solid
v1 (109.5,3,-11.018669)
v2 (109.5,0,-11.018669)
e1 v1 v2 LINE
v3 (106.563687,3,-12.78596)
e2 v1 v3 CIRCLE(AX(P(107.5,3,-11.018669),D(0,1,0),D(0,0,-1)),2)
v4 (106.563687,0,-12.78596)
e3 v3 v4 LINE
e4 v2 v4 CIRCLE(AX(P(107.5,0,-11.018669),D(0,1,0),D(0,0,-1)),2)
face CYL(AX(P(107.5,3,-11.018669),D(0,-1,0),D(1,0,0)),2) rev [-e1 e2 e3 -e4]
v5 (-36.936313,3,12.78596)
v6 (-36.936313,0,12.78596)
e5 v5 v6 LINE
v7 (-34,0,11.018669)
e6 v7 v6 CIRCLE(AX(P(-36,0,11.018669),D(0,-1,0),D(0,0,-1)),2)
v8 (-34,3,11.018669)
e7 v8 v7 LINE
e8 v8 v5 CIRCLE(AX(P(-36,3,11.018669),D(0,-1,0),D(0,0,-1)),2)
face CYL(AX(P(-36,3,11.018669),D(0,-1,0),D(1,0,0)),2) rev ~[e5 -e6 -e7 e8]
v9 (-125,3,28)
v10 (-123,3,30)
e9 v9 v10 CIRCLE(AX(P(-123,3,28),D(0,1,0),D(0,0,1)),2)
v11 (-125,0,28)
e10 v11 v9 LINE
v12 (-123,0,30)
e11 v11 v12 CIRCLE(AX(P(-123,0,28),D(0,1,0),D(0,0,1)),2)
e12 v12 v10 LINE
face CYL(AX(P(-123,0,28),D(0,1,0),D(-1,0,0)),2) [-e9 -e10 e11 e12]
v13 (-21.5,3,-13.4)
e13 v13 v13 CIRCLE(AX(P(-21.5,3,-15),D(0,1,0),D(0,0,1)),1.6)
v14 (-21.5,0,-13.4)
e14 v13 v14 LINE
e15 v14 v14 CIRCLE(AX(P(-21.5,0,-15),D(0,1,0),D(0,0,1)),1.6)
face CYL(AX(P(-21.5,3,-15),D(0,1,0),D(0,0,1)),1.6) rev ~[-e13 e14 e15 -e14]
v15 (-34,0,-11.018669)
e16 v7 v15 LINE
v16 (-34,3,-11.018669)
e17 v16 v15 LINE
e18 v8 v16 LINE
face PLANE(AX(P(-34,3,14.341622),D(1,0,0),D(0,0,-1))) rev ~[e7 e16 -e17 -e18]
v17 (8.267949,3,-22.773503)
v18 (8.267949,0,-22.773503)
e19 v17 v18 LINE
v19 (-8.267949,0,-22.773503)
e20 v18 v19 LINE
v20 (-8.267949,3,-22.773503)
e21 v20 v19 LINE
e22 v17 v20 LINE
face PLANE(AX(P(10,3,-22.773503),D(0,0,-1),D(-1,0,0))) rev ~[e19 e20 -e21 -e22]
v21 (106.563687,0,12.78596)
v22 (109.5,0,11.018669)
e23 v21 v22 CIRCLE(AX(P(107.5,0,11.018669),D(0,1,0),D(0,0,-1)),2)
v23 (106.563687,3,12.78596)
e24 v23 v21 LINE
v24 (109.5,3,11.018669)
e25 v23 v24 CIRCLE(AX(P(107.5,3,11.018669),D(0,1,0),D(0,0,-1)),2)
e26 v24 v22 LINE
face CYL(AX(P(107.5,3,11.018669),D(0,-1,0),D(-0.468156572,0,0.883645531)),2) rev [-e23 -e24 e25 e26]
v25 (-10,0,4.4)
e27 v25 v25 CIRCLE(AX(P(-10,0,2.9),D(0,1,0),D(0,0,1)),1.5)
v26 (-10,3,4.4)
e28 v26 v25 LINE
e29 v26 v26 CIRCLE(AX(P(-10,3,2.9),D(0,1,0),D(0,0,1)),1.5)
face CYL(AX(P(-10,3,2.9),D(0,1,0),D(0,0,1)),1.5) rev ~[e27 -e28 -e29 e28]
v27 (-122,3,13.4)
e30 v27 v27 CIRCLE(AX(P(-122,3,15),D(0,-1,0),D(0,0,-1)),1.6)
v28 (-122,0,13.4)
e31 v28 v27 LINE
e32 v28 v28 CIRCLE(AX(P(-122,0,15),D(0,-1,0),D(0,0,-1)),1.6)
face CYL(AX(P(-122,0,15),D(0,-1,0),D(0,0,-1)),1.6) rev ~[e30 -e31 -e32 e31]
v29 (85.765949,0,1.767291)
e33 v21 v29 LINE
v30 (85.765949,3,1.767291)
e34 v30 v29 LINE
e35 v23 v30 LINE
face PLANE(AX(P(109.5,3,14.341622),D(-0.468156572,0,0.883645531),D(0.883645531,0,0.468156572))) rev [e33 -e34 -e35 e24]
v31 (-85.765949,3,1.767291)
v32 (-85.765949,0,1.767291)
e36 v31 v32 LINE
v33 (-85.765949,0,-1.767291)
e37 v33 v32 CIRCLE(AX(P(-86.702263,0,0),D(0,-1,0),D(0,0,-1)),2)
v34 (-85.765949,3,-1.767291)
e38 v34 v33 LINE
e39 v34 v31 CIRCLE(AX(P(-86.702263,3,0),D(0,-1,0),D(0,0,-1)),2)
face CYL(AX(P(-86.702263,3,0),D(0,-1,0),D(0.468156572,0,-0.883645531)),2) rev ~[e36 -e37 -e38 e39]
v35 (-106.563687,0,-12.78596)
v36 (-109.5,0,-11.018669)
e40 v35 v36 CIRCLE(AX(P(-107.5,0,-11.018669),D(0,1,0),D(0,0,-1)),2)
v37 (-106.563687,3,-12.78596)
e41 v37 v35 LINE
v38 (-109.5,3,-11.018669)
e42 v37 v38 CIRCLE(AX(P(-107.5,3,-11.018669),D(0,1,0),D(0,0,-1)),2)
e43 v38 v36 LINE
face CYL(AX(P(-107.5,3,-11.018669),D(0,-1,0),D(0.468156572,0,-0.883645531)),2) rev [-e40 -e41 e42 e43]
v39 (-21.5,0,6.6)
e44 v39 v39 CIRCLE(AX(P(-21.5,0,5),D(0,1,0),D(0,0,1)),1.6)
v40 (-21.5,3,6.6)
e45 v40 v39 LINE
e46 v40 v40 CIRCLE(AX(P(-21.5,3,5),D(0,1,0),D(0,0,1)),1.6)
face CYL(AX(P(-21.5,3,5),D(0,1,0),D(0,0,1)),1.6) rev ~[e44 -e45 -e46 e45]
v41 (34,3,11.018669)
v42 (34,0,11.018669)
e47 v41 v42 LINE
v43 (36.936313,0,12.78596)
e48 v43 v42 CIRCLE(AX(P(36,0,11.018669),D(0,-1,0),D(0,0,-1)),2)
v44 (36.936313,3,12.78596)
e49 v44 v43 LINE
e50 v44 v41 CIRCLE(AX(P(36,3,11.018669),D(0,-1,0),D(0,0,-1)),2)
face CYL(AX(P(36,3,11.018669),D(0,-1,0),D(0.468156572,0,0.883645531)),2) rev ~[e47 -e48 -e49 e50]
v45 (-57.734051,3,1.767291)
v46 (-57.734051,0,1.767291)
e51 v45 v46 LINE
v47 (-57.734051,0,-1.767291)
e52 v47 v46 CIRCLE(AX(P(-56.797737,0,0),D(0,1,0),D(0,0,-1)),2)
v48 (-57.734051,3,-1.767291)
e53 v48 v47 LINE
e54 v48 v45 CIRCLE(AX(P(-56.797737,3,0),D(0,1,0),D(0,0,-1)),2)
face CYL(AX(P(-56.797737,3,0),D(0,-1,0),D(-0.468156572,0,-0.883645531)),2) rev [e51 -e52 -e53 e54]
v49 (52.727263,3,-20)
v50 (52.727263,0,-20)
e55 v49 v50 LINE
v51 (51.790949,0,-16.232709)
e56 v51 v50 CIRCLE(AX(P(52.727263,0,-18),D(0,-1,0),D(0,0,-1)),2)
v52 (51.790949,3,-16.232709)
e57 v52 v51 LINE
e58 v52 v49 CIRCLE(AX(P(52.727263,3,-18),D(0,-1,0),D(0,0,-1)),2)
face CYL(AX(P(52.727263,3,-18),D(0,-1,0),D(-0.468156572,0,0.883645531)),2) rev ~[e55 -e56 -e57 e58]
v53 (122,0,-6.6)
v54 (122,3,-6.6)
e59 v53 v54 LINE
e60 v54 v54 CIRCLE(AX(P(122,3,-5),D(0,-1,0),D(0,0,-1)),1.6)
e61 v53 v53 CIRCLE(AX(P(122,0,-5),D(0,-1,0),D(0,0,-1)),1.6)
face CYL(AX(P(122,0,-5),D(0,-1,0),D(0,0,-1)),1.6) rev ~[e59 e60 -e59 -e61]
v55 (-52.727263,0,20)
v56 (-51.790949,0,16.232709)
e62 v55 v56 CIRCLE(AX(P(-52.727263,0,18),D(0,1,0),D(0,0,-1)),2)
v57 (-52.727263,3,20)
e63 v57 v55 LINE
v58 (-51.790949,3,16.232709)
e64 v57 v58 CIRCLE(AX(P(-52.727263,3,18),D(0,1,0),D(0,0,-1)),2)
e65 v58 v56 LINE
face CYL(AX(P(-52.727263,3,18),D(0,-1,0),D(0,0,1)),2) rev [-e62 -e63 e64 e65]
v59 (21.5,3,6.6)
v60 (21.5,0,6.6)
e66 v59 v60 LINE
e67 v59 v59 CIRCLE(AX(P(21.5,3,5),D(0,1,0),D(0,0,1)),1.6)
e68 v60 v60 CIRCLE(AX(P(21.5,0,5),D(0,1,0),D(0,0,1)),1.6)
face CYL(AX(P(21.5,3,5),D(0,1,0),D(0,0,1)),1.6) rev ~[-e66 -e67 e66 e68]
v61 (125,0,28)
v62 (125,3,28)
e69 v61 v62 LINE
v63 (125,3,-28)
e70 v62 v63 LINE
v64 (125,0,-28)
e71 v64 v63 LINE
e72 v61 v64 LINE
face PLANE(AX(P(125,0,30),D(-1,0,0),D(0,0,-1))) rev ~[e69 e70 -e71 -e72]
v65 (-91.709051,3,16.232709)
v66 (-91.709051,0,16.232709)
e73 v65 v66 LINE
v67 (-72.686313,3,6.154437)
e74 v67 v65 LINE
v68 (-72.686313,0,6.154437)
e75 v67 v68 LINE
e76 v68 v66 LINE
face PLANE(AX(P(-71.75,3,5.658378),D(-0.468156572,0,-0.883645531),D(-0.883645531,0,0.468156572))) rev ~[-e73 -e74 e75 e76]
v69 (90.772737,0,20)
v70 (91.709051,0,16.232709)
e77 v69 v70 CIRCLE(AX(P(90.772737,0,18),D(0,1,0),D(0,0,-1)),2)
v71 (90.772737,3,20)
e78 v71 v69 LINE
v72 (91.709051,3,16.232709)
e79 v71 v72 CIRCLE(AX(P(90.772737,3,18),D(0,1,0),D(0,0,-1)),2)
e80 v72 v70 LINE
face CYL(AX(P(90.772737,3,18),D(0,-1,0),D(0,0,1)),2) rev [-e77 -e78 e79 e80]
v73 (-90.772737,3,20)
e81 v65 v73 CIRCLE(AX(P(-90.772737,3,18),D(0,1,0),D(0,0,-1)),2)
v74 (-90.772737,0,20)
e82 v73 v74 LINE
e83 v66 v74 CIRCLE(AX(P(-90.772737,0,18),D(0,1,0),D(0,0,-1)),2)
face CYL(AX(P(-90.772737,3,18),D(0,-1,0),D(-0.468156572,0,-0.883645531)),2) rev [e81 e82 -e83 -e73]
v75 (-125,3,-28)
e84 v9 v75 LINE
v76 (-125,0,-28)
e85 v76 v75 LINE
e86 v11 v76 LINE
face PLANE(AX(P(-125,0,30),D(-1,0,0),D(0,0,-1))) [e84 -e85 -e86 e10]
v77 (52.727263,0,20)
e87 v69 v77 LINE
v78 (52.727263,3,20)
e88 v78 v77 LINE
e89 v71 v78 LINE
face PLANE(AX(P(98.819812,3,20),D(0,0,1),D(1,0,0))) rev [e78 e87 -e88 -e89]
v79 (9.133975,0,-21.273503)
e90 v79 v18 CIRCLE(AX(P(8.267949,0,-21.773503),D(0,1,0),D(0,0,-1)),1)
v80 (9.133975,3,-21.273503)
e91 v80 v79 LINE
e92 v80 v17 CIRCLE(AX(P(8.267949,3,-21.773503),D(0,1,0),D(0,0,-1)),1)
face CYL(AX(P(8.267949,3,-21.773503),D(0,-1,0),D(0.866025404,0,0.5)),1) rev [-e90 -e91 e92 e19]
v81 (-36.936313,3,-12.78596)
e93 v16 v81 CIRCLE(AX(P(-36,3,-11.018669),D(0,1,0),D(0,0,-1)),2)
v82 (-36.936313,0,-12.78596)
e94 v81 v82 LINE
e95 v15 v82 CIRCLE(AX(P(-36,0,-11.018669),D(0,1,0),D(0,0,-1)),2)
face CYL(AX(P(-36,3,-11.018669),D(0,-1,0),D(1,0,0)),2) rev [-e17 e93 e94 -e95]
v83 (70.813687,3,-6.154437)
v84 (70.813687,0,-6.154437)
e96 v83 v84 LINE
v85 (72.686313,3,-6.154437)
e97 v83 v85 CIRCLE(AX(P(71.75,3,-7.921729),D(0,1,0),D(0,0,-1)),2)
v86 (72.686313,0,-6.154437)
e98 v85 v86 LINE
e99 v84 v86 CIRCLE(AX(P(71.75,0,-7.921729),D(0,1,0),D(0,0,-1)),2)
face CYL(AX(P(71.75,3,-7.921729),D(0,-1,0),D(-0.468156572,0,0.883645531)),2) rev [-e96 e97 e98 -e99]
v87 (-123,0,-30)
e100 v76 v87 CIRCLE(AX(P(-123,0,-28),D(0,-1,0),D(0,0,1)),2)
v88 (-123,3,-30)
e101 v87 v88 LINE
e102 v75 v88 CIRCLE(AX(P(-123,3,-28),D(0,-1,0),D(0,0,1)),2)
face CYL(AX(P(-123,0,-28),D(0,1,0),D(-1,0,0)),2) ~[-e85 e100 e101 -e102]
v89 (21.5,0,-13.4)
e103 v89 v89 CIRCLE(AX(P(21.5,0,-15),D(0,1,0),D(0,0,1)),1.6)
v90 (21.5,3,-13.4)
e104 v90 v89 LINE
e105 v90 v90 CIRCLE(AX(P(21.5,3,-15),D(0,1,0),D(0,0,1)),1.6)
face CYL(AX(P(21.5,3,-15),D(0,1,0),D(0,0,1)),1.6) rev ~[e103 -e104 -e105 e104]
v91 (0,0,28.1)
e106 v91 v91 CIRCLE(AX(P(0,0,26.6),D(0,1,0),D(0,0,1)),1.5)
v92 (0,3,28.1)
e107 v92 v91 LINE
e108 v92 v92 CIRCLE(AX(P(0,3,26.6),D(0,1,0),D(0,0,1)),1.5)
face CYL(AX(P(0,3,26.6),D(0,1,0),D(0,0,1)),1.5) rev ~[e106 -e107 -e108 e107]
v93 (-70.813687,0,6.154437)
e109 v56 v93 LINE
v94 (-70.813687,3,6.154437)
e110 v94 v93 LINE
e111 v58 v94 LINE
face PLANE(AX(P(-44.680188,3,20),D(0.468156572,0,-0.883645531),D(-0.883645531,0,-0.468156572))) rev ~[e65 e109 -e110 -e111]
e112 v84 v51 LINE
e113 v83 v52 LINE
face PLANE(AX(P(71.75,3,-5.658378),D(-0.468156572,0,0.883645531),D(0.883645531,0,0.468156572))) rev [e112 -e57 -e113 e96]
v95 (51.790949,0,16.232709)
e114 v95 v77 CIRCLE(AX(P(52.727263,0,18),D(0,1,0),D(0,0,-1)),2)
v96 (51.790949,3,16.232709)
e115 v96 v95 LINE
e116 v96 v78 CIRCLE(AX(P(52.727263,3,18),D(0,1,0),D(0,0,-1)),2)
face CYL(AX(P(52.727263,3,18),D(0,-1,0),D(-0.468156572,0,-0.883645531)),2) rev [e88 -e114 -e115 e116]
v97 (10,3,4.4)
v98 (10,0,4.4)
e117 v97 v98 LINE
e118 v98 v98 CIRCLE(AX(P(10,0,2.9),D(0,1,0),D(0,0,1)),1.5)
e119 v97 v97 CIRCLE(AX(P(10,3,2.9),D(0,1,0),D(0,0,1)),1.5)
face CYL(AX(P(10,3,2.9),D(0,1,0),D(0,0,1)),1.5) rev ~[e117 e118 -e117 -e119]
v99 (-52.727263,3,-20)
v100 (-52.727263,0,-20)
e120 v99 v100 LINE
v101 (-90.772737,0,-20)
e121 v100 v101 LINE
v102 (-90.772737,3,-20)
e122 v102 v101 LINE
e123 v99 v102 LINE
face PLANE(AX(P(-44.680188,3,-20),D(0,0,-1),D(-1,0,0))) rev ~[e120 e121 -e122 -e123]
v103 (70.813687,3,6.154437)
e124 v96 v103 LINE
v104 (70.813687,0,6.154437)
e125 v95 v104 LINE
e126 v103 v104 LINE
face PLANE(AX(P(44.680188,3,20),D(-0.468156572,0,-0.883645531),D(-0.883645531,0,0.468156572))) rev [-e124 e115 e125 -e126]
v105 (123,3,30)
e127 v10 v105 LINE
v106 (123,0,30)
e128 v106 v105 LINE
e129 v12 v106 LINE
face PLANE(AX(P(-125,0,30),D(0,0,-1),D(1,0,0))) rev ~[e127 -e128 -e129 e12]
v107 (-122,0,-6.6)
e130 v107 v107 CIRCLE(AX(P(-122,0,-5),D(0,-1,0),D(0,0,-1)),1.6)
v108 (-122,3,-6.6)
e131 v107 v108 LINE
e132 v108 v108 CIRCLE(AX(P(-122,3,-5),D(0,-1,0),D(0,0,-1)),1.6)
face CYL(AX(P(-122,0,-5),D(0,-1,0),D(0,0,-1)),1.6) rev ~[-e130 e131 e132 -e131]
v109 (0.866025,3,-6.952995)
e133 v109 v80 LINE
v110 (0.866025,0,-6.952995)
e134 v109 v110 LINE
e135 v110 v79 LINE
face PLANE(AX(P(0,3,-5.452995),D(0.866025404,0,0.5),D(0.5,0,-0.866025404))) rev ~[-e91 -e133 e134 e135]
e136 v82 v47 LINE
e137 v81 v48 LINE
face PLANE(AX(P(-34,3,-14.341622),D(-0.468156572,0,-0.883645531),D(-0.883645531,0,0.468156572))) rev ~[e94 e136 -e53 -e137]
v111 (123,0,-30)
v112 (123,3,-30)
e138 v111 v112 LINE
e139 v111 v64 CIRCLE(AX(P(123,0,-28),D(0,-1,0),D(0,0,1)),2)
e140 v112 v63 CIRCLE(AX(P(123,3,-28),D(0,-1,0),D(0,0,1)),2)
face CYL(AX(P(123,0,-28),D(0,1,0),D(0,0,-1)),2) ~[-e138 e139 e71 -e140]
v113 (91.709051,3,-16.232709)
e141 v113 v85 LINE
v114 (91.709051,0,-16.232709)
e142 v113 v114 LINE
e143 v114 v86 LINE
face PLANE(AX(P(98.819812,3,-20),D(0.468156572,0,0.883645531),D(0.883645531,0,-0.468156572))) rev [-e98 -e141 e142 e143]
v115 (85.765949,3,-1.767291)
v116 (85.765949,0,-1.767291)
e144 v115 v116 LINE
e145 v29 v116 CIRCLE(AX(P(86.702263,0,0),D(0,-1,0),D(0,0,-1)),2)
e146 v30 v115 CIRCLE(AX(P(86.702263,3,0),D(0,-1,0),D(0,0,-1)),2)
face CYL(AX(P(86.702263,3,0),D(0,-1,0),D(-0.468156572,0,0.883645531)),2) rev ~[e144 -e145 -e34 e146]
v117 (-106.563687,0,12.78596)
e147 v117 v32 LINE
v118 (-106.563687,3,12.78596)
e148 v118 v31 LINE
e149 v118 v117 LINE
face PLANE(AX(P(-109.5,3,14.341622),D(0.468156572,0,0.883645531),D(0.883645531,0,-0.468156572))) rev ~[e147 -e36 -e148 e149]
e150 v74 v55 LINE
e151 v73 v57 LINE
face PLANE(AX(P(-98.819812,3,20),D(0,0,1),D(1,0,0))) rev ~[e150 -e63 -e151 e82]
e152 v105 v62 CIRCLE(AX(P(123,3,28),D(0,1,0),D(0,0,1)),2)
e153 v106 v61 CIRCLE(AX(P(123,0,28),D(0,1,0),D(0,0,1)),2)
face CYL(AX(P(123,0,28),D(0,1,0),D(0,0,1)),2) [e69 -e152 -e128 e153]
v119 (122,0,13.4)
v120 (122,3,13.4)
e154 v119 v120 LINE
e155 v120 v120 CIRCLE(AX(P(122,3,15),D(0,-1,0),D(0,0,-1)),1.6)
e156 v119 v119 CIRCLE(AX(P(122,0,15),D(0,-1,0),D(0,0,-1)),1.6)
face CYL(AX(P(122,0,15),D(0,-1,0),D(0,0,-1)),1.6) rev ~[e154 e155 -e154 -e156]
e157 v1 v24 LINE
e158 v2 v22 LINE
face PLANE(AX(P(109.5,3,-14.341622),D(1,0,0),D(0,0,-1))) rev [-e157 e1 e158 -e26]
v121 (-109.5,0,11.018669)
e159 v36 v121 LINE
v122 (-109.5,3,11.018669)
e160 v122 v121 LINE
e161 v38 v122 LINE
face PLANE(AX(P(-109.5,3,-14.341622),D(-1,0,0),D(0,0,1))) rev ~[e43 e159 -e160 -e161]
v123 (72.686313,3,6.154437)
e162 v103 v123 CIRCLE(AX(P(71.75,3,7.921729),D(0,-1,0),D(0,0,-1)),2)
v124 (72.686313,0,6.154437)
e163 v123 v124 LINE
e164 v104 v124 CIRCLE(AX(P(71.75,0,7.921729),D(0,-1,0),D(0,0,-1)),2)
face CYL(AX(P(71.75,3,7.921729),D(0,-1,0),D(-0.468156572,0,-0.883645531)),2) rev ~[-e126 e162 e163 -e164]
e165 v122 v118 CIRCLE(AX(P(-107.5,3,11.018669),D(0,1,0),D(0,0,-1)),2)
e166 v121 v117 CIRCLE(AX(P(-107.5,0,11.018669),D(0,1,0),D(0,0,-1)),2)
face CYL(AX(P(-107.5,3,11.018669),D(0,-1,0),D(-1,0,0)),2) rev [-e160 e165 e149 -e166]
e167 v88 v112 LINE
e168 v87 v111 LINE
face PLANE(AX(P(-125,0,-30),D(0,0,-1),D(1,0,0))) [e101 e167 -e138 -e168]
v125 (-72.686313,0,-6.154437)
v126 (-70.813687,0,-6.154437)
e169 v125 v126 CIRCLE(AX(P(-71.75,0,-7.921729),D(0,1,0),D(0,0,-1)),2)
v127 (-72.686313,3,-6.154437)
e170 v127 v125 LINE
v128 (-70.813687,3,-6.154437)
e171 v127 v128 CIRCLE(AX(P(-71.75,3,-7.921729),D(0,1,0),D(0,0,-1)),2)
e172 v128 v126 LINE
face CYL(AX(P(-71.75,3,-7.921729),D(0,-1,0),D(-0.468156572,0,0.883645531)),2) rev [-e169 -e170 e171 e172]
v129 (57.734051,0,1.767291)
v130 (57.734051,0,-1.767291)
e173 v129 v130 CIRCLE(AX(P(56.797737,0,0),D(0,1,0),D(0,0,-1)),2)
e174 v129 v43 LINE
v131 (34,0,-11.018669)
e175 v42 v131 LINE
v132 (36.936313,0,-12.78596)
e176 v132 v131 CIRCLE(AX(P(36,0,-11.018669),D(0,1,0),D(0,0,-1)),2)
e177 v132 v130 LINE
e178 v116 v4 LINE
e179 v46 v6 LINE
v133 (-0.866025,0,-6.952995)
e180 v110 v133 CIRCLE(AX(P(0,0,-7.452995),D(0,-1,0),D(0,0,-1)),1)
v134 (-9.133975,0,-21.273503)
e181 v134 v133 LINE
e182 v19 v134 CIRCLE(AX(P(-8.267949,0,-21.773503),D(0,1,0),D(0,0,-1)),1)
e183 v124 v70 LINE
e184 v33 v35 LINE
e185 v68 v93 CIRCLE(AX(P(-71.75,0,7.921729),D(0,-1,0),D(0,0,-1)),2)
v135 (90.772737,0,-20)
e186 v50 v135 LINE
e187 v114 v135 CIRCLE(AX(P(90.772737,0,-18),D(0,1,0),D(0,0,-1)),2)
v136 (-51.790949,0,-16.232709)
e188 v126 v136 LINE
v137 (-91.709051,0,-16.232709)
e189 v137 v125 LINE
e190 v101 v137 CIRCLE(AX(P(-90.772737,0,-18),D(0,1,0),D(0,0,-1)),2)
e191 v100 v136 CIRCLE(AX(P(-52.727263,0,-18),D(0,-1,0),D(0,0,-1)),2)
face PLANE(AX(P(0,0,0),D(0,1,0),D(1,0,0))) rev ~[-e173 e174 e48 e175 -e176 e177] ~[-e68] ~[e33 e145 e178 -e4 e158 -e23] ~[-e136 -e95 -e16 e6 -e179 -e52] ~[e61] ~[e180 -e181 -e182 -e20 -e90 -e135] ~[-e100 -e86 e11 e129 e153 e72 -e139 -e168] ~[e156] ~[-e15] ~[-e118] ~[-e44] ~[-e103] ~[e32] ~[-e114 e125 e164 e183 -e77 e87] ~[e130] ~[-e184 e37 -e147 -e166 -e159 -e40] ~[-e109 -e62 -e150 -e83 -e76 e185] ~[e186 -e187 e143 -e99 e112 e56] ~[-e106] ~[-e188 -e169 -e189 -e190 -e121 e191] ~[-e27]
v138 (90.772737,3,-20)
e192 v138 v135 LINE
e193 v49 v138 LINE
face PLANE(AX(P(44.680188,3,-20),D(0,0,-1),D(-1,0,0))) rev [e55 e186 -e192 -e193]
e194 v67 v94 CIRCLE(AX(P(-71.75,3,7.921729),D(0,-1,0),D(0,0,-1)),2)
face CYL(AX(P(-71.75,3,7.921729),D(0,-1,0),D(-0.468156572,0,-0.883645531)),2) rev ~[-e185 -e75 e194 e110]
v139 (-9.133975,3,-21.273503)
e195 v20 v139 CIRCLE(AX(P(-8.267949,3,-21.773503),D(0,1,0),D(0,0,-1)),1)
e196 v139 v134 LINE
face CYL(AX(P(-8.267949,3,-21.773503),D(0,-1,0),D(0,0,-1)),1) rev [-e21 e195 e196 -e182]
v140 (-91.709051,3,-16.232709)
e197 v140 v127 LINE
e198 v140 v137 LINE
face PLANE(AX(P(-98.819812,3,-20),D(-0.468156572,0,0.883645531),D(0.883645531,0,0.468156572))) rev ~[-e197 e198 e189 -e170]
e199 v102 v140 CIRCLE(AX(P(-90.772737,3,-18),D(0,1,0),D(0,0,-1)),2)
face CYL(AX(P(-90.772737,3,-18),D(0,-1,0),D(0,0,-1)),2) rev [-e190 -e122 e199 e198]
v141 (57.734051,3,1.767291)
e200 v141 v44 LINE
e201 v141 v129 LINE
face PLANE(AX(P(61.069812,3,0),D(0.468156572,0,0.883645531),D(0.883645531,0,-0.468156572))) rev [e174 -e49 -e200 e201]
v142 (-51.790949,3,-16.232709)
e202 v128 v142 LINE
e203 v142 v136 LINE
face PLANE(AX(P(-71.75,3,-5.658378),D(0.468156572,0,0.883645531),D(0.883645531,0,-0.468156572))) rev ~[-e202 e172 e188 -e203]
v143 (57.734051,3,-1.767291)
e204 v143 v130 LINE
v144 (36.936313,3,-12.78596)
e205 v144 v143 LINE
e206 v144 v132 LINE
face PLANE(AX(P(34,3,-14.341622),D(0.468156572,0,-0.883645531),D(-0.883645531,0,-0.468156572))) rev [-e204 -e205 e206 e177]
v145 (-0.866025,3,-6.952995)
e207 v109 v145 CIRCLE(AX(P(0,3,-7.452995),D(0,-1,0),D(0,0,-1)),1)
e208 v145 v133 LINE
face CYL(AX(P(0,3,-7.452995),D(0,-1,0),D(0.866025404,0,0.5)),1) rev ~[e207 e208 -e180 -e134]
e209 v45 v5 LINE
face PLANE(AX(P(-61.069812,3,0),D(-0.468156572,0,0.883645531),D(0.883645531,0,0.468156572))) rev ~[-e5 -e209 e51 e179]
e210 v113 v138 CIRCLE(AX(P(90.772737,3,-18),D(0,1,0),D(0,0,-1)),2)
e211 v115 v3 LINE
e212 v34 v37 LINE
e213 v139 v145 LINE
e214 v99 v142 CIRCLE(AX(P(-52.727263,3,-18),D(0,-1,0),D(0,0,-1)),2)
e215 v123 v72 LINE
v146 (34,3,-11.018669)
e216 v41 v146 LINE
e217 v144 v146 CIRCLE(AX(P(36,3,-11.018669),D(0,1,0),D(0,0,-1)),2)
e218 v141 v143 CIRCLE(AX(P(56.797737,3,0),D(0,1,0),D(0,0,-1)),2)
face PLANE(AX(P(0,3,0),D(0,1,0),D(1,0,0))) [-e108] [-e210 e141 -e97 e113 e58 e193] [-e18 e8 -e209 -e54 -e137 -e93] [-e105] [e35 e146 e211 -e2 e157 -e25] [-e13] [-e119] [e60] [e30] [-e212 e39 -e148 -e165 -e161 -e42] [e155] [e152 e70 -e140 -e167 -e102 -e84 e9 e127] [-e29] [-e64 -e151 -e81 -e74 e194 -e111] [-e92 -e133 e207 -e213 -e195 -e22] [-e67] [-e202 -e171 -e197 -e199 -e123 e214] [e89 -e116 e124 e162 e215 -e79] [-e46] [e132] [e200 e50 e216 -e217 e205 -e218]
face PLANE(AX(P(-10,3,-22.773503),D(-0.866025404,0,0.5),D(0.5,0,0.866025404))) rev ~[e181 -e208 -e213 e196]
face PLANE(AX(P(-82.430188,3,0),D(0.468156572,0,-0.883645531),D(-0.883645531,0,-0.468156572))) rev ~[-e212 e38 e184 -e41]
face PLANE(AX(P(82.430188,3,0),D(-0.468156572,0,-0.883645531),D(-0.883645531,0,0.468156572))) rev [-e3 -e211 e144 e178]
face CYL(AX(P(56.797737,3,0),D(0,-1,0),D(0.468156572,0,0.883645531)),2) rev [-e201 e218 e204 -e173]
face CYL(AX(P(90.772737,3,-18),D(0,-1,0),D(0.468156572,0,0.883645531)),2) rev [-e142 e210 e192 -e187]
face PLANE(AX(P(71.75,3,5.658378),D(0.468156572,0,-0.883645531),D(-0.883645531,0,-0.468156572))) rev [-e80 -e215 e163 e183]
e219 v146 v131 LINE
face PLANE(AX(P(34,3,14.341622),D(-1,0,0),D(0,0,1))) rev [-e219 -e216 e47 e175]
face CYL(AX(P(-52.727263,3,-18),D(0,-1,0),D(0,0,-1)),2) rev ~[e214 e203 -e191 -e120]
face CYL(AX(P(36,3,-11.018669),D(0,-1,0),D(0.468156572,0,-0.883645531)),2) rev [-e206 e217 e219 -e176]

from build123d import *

# Parameters (mm, degrees)
SKETCH_1_W             = 250
SKETCH_1_H             = 60
EXTRUDE_1_DEPTH        = 3
SKETCH_2_R             = 1.5
CUT_EXTRUDE_1_DEPTH    = 129.5846025
SKETCH_3_R             = 1.6
CUT_EXTRUDE_2_DEPTH    = 129.5846025
SKETCH_4_R             = 1.6
CUT_EXTRUDE_3_DEPTH    = 129.5846025
FILLET_1_R             = 2
CUT_EXTRUDE_4_DEPTH    = 129.5846025
FILLET_2_R             = 2
FILLET_2_OF_MIRROR_1_R = 2
CUT_EXTRUDE_5_DEPTH    = 129.5846025
FILLET_3_R             = 1


with BuildPart() as part:
    # 草图1 → 凸台-拉伸1 (new body)
    with BuildSketch(Plane(origin=(0, 0, 0), x_dir=(1, 0, 0), z_dir=(0, 1, 0))):
        Rectangle(SKETCH_1_W, SKETCH_1_H)
    extrude(amount=EXTRUDE_1_DEPTH)

    # 草图2 → 切除-拉伸1 (cut, through all)
    with BuildSketch(Plane(origin=(0, 3, 0), x_dir=(1, 0, 0), z_dir=(0, 1, 0))):
        with Locations(Location((0, -26.6, 0), (0, 0, 270))):
            Circle(SKETCH_2_R)
        with Locations(Location((10, -2.9, 0), (0, 0, 270))):
            Circle(SKETCH_2_R)
        with Locations(Location((-10, -2.9, 0), (0, 0, 270))):
            Circle(SKETCH_2_R)
    extrude(amount=-CUT_EXTRUDE_1_DEPTH, mode=Mode.SUBTRACT)

    # 草图3 → 切除-拉伸2 (cut, through all)
    with BuildSketch(Plane.XZ):
        with Locations(Location((122, 15, 0), (0, 0, 270))):
            Circle(SKETCH_3_R)
        with Locations(Location((122, -5, 0), (0, 0, 270))):
            Circle(SKETCH_3_R)
        with Locations(Location((-122, 15, 0), (0, 0, 270))):
            Circle(SKETCH_3_R)
        with Locations(Location((-122, -5, 0), (0, 0, 270))):
            Circle(SKETCH_3_R)
    extrude(amount=-CUT_EXTRUDE_2_DEPTH, mode=Mode.SUBTRACT)

    # 草图4 → 切除-拉伸3 (cut, through all)
    with BuildSketch(Plane(origin=(0, 3, 0), x_dir=(1, 0, 0), z_dir=(0, 1, 0))):
        with Locations(Location((-21.5, -5, 0), (0, 0, 270))):
            Circle(SKETCH_4_R)
        with Locations(Location((-21.5, 15, 0), (0, 0, 270))):
            Circle(SKETCH_4_R)
        with Locations(Location((21.5, -5, 0), (0, 0, 270))):
            Circle(SKETCH_4_R)
        with Locations(Location((21.5, 15, 0), (0, 0, 270))):
            Circle(SKETCH_4_R)
    extrude(amount=-CUT_EXTRUDE_3_DEPTH, mode=Mode.SUBTRACT)

    # 圆角1
    fillet_1_edges = [part.edges().sort_by_distance(p)[0] for p in [
        (125, 1.5, 30),
        (-125, 1.5, 30),
        (-125, 1.5, -30),
        (125, 1.5, -30),
    ]]
    fillet(fillet_1_edges, radius=FILLET_1_R)

    # 草图5 → 切除-拉伸4 (cut, through all)
    with BuildSketch(Plane(origin=(0, 3, 0), x_dir=(1, 0, 0), z_dir=(0, 1, 0))):
        Polygon((-44.680187557, 20), (-98.819812443, 20), (-71.75, 5.658377514), align=None)
        Polygon((-34, -14.341622486), (-34, 14.341622486), (-61.069812443, 0), align=None)
        Polygon((-71.75, -5.658377514), (-98.819812443, -20), (-44.680187557, -20), align=None)
        Polygon((-82.430187557, 0), (-109.5, 14.341622486), (-109.5, -14.341622486), align=None)
    cut_extrude_4 = extrude(amount=-CUT_EXTRUDE_4_DEPTH, mode=Mode.SUBTRACT)

    # 圆角2
    fillet_2_edges = [part.edges().sort_by_distance(p)[0] for p in [
        (-71.75, 1.5, 5.658377514),
        (-44.680187557, 1.5, 20),
        (-98.819812443, 1.5, 20),
        (-61.069812443, 1.5, 0),
        (-34, 1.5, -14.341622486),
        (-34, 1.5, 14.341622486),
        (-109.5, 1.5, -14.341622486),
        (-82.430187557, 1.5, 0),
        (-109.5, 1.5, 14.341622486),
        (-98.819812443, 1.5, -20),
        (-44.680187557, 1.5, -20),
        (-71.75, 1.5, -5.658377514),
    ]]
    fillet(fillet_2_edges, radius=FILLET_2_R)

    # 镜向1: 切除-拉伸4 across plane
    add(cut_extrude_4.mirror(Plane.ZY), mode=Mode.SUBTRACT)

    # 圆角2 of 镜向1
    fillet_2_of_mirror_1_edges = [part.edges().sort_by_distance(p)[0] for p in [
        (71.75, 1.5, 5.658377514),
        (44.680187557, 1.5, 20),
        (98.819812443, 1.5, 20),
        (61.069812443, 1.5, 0),
        (34, 1.5, -14.341622486),
        (34, 1.5, 14.341622486),
        (109.5, 1.5, -14.341622486),
        (82.430187557, 1.5, 0),
        (109.5, 1.5, 14.341622486),
        (98.819812443, 1.5, -20),
        (44.680187557, 1.5, -20),
        (71.75, 1.5, -5.658377514),
    ]]
    fillet(fillet_2_of_mirror_1_edges, radius=FILLET_2_OF_MIRROR_1_R)

    # 草图6 → 切除-拉伸5 (cut, through all)
    with BuildSketch(Plane(origin=(0, 3, 0), x_dir=(1, 0, 0), z_dir=(0, 1, 0))):
        Polygon((0, 5.452994616), (10, 22.773502692), (-10, 22.773502692), align=None)
    extrude(amount=-CUT_EXTRUDE_5_DEPTH, mode=Mode.SUBTRACT)

    # 圆角3
    fillet_3_edges = [part.edges().sort_by_distance(p)[0] for p in [
        (0, 1.5, -5.452994616),
        (-10, 1.5, -22.773502692),
        (10, 1.5, -22.773502692),
    ]]
    fillet(fillet_3_edges, radius=FILLET_3_R)


solid = part.part
